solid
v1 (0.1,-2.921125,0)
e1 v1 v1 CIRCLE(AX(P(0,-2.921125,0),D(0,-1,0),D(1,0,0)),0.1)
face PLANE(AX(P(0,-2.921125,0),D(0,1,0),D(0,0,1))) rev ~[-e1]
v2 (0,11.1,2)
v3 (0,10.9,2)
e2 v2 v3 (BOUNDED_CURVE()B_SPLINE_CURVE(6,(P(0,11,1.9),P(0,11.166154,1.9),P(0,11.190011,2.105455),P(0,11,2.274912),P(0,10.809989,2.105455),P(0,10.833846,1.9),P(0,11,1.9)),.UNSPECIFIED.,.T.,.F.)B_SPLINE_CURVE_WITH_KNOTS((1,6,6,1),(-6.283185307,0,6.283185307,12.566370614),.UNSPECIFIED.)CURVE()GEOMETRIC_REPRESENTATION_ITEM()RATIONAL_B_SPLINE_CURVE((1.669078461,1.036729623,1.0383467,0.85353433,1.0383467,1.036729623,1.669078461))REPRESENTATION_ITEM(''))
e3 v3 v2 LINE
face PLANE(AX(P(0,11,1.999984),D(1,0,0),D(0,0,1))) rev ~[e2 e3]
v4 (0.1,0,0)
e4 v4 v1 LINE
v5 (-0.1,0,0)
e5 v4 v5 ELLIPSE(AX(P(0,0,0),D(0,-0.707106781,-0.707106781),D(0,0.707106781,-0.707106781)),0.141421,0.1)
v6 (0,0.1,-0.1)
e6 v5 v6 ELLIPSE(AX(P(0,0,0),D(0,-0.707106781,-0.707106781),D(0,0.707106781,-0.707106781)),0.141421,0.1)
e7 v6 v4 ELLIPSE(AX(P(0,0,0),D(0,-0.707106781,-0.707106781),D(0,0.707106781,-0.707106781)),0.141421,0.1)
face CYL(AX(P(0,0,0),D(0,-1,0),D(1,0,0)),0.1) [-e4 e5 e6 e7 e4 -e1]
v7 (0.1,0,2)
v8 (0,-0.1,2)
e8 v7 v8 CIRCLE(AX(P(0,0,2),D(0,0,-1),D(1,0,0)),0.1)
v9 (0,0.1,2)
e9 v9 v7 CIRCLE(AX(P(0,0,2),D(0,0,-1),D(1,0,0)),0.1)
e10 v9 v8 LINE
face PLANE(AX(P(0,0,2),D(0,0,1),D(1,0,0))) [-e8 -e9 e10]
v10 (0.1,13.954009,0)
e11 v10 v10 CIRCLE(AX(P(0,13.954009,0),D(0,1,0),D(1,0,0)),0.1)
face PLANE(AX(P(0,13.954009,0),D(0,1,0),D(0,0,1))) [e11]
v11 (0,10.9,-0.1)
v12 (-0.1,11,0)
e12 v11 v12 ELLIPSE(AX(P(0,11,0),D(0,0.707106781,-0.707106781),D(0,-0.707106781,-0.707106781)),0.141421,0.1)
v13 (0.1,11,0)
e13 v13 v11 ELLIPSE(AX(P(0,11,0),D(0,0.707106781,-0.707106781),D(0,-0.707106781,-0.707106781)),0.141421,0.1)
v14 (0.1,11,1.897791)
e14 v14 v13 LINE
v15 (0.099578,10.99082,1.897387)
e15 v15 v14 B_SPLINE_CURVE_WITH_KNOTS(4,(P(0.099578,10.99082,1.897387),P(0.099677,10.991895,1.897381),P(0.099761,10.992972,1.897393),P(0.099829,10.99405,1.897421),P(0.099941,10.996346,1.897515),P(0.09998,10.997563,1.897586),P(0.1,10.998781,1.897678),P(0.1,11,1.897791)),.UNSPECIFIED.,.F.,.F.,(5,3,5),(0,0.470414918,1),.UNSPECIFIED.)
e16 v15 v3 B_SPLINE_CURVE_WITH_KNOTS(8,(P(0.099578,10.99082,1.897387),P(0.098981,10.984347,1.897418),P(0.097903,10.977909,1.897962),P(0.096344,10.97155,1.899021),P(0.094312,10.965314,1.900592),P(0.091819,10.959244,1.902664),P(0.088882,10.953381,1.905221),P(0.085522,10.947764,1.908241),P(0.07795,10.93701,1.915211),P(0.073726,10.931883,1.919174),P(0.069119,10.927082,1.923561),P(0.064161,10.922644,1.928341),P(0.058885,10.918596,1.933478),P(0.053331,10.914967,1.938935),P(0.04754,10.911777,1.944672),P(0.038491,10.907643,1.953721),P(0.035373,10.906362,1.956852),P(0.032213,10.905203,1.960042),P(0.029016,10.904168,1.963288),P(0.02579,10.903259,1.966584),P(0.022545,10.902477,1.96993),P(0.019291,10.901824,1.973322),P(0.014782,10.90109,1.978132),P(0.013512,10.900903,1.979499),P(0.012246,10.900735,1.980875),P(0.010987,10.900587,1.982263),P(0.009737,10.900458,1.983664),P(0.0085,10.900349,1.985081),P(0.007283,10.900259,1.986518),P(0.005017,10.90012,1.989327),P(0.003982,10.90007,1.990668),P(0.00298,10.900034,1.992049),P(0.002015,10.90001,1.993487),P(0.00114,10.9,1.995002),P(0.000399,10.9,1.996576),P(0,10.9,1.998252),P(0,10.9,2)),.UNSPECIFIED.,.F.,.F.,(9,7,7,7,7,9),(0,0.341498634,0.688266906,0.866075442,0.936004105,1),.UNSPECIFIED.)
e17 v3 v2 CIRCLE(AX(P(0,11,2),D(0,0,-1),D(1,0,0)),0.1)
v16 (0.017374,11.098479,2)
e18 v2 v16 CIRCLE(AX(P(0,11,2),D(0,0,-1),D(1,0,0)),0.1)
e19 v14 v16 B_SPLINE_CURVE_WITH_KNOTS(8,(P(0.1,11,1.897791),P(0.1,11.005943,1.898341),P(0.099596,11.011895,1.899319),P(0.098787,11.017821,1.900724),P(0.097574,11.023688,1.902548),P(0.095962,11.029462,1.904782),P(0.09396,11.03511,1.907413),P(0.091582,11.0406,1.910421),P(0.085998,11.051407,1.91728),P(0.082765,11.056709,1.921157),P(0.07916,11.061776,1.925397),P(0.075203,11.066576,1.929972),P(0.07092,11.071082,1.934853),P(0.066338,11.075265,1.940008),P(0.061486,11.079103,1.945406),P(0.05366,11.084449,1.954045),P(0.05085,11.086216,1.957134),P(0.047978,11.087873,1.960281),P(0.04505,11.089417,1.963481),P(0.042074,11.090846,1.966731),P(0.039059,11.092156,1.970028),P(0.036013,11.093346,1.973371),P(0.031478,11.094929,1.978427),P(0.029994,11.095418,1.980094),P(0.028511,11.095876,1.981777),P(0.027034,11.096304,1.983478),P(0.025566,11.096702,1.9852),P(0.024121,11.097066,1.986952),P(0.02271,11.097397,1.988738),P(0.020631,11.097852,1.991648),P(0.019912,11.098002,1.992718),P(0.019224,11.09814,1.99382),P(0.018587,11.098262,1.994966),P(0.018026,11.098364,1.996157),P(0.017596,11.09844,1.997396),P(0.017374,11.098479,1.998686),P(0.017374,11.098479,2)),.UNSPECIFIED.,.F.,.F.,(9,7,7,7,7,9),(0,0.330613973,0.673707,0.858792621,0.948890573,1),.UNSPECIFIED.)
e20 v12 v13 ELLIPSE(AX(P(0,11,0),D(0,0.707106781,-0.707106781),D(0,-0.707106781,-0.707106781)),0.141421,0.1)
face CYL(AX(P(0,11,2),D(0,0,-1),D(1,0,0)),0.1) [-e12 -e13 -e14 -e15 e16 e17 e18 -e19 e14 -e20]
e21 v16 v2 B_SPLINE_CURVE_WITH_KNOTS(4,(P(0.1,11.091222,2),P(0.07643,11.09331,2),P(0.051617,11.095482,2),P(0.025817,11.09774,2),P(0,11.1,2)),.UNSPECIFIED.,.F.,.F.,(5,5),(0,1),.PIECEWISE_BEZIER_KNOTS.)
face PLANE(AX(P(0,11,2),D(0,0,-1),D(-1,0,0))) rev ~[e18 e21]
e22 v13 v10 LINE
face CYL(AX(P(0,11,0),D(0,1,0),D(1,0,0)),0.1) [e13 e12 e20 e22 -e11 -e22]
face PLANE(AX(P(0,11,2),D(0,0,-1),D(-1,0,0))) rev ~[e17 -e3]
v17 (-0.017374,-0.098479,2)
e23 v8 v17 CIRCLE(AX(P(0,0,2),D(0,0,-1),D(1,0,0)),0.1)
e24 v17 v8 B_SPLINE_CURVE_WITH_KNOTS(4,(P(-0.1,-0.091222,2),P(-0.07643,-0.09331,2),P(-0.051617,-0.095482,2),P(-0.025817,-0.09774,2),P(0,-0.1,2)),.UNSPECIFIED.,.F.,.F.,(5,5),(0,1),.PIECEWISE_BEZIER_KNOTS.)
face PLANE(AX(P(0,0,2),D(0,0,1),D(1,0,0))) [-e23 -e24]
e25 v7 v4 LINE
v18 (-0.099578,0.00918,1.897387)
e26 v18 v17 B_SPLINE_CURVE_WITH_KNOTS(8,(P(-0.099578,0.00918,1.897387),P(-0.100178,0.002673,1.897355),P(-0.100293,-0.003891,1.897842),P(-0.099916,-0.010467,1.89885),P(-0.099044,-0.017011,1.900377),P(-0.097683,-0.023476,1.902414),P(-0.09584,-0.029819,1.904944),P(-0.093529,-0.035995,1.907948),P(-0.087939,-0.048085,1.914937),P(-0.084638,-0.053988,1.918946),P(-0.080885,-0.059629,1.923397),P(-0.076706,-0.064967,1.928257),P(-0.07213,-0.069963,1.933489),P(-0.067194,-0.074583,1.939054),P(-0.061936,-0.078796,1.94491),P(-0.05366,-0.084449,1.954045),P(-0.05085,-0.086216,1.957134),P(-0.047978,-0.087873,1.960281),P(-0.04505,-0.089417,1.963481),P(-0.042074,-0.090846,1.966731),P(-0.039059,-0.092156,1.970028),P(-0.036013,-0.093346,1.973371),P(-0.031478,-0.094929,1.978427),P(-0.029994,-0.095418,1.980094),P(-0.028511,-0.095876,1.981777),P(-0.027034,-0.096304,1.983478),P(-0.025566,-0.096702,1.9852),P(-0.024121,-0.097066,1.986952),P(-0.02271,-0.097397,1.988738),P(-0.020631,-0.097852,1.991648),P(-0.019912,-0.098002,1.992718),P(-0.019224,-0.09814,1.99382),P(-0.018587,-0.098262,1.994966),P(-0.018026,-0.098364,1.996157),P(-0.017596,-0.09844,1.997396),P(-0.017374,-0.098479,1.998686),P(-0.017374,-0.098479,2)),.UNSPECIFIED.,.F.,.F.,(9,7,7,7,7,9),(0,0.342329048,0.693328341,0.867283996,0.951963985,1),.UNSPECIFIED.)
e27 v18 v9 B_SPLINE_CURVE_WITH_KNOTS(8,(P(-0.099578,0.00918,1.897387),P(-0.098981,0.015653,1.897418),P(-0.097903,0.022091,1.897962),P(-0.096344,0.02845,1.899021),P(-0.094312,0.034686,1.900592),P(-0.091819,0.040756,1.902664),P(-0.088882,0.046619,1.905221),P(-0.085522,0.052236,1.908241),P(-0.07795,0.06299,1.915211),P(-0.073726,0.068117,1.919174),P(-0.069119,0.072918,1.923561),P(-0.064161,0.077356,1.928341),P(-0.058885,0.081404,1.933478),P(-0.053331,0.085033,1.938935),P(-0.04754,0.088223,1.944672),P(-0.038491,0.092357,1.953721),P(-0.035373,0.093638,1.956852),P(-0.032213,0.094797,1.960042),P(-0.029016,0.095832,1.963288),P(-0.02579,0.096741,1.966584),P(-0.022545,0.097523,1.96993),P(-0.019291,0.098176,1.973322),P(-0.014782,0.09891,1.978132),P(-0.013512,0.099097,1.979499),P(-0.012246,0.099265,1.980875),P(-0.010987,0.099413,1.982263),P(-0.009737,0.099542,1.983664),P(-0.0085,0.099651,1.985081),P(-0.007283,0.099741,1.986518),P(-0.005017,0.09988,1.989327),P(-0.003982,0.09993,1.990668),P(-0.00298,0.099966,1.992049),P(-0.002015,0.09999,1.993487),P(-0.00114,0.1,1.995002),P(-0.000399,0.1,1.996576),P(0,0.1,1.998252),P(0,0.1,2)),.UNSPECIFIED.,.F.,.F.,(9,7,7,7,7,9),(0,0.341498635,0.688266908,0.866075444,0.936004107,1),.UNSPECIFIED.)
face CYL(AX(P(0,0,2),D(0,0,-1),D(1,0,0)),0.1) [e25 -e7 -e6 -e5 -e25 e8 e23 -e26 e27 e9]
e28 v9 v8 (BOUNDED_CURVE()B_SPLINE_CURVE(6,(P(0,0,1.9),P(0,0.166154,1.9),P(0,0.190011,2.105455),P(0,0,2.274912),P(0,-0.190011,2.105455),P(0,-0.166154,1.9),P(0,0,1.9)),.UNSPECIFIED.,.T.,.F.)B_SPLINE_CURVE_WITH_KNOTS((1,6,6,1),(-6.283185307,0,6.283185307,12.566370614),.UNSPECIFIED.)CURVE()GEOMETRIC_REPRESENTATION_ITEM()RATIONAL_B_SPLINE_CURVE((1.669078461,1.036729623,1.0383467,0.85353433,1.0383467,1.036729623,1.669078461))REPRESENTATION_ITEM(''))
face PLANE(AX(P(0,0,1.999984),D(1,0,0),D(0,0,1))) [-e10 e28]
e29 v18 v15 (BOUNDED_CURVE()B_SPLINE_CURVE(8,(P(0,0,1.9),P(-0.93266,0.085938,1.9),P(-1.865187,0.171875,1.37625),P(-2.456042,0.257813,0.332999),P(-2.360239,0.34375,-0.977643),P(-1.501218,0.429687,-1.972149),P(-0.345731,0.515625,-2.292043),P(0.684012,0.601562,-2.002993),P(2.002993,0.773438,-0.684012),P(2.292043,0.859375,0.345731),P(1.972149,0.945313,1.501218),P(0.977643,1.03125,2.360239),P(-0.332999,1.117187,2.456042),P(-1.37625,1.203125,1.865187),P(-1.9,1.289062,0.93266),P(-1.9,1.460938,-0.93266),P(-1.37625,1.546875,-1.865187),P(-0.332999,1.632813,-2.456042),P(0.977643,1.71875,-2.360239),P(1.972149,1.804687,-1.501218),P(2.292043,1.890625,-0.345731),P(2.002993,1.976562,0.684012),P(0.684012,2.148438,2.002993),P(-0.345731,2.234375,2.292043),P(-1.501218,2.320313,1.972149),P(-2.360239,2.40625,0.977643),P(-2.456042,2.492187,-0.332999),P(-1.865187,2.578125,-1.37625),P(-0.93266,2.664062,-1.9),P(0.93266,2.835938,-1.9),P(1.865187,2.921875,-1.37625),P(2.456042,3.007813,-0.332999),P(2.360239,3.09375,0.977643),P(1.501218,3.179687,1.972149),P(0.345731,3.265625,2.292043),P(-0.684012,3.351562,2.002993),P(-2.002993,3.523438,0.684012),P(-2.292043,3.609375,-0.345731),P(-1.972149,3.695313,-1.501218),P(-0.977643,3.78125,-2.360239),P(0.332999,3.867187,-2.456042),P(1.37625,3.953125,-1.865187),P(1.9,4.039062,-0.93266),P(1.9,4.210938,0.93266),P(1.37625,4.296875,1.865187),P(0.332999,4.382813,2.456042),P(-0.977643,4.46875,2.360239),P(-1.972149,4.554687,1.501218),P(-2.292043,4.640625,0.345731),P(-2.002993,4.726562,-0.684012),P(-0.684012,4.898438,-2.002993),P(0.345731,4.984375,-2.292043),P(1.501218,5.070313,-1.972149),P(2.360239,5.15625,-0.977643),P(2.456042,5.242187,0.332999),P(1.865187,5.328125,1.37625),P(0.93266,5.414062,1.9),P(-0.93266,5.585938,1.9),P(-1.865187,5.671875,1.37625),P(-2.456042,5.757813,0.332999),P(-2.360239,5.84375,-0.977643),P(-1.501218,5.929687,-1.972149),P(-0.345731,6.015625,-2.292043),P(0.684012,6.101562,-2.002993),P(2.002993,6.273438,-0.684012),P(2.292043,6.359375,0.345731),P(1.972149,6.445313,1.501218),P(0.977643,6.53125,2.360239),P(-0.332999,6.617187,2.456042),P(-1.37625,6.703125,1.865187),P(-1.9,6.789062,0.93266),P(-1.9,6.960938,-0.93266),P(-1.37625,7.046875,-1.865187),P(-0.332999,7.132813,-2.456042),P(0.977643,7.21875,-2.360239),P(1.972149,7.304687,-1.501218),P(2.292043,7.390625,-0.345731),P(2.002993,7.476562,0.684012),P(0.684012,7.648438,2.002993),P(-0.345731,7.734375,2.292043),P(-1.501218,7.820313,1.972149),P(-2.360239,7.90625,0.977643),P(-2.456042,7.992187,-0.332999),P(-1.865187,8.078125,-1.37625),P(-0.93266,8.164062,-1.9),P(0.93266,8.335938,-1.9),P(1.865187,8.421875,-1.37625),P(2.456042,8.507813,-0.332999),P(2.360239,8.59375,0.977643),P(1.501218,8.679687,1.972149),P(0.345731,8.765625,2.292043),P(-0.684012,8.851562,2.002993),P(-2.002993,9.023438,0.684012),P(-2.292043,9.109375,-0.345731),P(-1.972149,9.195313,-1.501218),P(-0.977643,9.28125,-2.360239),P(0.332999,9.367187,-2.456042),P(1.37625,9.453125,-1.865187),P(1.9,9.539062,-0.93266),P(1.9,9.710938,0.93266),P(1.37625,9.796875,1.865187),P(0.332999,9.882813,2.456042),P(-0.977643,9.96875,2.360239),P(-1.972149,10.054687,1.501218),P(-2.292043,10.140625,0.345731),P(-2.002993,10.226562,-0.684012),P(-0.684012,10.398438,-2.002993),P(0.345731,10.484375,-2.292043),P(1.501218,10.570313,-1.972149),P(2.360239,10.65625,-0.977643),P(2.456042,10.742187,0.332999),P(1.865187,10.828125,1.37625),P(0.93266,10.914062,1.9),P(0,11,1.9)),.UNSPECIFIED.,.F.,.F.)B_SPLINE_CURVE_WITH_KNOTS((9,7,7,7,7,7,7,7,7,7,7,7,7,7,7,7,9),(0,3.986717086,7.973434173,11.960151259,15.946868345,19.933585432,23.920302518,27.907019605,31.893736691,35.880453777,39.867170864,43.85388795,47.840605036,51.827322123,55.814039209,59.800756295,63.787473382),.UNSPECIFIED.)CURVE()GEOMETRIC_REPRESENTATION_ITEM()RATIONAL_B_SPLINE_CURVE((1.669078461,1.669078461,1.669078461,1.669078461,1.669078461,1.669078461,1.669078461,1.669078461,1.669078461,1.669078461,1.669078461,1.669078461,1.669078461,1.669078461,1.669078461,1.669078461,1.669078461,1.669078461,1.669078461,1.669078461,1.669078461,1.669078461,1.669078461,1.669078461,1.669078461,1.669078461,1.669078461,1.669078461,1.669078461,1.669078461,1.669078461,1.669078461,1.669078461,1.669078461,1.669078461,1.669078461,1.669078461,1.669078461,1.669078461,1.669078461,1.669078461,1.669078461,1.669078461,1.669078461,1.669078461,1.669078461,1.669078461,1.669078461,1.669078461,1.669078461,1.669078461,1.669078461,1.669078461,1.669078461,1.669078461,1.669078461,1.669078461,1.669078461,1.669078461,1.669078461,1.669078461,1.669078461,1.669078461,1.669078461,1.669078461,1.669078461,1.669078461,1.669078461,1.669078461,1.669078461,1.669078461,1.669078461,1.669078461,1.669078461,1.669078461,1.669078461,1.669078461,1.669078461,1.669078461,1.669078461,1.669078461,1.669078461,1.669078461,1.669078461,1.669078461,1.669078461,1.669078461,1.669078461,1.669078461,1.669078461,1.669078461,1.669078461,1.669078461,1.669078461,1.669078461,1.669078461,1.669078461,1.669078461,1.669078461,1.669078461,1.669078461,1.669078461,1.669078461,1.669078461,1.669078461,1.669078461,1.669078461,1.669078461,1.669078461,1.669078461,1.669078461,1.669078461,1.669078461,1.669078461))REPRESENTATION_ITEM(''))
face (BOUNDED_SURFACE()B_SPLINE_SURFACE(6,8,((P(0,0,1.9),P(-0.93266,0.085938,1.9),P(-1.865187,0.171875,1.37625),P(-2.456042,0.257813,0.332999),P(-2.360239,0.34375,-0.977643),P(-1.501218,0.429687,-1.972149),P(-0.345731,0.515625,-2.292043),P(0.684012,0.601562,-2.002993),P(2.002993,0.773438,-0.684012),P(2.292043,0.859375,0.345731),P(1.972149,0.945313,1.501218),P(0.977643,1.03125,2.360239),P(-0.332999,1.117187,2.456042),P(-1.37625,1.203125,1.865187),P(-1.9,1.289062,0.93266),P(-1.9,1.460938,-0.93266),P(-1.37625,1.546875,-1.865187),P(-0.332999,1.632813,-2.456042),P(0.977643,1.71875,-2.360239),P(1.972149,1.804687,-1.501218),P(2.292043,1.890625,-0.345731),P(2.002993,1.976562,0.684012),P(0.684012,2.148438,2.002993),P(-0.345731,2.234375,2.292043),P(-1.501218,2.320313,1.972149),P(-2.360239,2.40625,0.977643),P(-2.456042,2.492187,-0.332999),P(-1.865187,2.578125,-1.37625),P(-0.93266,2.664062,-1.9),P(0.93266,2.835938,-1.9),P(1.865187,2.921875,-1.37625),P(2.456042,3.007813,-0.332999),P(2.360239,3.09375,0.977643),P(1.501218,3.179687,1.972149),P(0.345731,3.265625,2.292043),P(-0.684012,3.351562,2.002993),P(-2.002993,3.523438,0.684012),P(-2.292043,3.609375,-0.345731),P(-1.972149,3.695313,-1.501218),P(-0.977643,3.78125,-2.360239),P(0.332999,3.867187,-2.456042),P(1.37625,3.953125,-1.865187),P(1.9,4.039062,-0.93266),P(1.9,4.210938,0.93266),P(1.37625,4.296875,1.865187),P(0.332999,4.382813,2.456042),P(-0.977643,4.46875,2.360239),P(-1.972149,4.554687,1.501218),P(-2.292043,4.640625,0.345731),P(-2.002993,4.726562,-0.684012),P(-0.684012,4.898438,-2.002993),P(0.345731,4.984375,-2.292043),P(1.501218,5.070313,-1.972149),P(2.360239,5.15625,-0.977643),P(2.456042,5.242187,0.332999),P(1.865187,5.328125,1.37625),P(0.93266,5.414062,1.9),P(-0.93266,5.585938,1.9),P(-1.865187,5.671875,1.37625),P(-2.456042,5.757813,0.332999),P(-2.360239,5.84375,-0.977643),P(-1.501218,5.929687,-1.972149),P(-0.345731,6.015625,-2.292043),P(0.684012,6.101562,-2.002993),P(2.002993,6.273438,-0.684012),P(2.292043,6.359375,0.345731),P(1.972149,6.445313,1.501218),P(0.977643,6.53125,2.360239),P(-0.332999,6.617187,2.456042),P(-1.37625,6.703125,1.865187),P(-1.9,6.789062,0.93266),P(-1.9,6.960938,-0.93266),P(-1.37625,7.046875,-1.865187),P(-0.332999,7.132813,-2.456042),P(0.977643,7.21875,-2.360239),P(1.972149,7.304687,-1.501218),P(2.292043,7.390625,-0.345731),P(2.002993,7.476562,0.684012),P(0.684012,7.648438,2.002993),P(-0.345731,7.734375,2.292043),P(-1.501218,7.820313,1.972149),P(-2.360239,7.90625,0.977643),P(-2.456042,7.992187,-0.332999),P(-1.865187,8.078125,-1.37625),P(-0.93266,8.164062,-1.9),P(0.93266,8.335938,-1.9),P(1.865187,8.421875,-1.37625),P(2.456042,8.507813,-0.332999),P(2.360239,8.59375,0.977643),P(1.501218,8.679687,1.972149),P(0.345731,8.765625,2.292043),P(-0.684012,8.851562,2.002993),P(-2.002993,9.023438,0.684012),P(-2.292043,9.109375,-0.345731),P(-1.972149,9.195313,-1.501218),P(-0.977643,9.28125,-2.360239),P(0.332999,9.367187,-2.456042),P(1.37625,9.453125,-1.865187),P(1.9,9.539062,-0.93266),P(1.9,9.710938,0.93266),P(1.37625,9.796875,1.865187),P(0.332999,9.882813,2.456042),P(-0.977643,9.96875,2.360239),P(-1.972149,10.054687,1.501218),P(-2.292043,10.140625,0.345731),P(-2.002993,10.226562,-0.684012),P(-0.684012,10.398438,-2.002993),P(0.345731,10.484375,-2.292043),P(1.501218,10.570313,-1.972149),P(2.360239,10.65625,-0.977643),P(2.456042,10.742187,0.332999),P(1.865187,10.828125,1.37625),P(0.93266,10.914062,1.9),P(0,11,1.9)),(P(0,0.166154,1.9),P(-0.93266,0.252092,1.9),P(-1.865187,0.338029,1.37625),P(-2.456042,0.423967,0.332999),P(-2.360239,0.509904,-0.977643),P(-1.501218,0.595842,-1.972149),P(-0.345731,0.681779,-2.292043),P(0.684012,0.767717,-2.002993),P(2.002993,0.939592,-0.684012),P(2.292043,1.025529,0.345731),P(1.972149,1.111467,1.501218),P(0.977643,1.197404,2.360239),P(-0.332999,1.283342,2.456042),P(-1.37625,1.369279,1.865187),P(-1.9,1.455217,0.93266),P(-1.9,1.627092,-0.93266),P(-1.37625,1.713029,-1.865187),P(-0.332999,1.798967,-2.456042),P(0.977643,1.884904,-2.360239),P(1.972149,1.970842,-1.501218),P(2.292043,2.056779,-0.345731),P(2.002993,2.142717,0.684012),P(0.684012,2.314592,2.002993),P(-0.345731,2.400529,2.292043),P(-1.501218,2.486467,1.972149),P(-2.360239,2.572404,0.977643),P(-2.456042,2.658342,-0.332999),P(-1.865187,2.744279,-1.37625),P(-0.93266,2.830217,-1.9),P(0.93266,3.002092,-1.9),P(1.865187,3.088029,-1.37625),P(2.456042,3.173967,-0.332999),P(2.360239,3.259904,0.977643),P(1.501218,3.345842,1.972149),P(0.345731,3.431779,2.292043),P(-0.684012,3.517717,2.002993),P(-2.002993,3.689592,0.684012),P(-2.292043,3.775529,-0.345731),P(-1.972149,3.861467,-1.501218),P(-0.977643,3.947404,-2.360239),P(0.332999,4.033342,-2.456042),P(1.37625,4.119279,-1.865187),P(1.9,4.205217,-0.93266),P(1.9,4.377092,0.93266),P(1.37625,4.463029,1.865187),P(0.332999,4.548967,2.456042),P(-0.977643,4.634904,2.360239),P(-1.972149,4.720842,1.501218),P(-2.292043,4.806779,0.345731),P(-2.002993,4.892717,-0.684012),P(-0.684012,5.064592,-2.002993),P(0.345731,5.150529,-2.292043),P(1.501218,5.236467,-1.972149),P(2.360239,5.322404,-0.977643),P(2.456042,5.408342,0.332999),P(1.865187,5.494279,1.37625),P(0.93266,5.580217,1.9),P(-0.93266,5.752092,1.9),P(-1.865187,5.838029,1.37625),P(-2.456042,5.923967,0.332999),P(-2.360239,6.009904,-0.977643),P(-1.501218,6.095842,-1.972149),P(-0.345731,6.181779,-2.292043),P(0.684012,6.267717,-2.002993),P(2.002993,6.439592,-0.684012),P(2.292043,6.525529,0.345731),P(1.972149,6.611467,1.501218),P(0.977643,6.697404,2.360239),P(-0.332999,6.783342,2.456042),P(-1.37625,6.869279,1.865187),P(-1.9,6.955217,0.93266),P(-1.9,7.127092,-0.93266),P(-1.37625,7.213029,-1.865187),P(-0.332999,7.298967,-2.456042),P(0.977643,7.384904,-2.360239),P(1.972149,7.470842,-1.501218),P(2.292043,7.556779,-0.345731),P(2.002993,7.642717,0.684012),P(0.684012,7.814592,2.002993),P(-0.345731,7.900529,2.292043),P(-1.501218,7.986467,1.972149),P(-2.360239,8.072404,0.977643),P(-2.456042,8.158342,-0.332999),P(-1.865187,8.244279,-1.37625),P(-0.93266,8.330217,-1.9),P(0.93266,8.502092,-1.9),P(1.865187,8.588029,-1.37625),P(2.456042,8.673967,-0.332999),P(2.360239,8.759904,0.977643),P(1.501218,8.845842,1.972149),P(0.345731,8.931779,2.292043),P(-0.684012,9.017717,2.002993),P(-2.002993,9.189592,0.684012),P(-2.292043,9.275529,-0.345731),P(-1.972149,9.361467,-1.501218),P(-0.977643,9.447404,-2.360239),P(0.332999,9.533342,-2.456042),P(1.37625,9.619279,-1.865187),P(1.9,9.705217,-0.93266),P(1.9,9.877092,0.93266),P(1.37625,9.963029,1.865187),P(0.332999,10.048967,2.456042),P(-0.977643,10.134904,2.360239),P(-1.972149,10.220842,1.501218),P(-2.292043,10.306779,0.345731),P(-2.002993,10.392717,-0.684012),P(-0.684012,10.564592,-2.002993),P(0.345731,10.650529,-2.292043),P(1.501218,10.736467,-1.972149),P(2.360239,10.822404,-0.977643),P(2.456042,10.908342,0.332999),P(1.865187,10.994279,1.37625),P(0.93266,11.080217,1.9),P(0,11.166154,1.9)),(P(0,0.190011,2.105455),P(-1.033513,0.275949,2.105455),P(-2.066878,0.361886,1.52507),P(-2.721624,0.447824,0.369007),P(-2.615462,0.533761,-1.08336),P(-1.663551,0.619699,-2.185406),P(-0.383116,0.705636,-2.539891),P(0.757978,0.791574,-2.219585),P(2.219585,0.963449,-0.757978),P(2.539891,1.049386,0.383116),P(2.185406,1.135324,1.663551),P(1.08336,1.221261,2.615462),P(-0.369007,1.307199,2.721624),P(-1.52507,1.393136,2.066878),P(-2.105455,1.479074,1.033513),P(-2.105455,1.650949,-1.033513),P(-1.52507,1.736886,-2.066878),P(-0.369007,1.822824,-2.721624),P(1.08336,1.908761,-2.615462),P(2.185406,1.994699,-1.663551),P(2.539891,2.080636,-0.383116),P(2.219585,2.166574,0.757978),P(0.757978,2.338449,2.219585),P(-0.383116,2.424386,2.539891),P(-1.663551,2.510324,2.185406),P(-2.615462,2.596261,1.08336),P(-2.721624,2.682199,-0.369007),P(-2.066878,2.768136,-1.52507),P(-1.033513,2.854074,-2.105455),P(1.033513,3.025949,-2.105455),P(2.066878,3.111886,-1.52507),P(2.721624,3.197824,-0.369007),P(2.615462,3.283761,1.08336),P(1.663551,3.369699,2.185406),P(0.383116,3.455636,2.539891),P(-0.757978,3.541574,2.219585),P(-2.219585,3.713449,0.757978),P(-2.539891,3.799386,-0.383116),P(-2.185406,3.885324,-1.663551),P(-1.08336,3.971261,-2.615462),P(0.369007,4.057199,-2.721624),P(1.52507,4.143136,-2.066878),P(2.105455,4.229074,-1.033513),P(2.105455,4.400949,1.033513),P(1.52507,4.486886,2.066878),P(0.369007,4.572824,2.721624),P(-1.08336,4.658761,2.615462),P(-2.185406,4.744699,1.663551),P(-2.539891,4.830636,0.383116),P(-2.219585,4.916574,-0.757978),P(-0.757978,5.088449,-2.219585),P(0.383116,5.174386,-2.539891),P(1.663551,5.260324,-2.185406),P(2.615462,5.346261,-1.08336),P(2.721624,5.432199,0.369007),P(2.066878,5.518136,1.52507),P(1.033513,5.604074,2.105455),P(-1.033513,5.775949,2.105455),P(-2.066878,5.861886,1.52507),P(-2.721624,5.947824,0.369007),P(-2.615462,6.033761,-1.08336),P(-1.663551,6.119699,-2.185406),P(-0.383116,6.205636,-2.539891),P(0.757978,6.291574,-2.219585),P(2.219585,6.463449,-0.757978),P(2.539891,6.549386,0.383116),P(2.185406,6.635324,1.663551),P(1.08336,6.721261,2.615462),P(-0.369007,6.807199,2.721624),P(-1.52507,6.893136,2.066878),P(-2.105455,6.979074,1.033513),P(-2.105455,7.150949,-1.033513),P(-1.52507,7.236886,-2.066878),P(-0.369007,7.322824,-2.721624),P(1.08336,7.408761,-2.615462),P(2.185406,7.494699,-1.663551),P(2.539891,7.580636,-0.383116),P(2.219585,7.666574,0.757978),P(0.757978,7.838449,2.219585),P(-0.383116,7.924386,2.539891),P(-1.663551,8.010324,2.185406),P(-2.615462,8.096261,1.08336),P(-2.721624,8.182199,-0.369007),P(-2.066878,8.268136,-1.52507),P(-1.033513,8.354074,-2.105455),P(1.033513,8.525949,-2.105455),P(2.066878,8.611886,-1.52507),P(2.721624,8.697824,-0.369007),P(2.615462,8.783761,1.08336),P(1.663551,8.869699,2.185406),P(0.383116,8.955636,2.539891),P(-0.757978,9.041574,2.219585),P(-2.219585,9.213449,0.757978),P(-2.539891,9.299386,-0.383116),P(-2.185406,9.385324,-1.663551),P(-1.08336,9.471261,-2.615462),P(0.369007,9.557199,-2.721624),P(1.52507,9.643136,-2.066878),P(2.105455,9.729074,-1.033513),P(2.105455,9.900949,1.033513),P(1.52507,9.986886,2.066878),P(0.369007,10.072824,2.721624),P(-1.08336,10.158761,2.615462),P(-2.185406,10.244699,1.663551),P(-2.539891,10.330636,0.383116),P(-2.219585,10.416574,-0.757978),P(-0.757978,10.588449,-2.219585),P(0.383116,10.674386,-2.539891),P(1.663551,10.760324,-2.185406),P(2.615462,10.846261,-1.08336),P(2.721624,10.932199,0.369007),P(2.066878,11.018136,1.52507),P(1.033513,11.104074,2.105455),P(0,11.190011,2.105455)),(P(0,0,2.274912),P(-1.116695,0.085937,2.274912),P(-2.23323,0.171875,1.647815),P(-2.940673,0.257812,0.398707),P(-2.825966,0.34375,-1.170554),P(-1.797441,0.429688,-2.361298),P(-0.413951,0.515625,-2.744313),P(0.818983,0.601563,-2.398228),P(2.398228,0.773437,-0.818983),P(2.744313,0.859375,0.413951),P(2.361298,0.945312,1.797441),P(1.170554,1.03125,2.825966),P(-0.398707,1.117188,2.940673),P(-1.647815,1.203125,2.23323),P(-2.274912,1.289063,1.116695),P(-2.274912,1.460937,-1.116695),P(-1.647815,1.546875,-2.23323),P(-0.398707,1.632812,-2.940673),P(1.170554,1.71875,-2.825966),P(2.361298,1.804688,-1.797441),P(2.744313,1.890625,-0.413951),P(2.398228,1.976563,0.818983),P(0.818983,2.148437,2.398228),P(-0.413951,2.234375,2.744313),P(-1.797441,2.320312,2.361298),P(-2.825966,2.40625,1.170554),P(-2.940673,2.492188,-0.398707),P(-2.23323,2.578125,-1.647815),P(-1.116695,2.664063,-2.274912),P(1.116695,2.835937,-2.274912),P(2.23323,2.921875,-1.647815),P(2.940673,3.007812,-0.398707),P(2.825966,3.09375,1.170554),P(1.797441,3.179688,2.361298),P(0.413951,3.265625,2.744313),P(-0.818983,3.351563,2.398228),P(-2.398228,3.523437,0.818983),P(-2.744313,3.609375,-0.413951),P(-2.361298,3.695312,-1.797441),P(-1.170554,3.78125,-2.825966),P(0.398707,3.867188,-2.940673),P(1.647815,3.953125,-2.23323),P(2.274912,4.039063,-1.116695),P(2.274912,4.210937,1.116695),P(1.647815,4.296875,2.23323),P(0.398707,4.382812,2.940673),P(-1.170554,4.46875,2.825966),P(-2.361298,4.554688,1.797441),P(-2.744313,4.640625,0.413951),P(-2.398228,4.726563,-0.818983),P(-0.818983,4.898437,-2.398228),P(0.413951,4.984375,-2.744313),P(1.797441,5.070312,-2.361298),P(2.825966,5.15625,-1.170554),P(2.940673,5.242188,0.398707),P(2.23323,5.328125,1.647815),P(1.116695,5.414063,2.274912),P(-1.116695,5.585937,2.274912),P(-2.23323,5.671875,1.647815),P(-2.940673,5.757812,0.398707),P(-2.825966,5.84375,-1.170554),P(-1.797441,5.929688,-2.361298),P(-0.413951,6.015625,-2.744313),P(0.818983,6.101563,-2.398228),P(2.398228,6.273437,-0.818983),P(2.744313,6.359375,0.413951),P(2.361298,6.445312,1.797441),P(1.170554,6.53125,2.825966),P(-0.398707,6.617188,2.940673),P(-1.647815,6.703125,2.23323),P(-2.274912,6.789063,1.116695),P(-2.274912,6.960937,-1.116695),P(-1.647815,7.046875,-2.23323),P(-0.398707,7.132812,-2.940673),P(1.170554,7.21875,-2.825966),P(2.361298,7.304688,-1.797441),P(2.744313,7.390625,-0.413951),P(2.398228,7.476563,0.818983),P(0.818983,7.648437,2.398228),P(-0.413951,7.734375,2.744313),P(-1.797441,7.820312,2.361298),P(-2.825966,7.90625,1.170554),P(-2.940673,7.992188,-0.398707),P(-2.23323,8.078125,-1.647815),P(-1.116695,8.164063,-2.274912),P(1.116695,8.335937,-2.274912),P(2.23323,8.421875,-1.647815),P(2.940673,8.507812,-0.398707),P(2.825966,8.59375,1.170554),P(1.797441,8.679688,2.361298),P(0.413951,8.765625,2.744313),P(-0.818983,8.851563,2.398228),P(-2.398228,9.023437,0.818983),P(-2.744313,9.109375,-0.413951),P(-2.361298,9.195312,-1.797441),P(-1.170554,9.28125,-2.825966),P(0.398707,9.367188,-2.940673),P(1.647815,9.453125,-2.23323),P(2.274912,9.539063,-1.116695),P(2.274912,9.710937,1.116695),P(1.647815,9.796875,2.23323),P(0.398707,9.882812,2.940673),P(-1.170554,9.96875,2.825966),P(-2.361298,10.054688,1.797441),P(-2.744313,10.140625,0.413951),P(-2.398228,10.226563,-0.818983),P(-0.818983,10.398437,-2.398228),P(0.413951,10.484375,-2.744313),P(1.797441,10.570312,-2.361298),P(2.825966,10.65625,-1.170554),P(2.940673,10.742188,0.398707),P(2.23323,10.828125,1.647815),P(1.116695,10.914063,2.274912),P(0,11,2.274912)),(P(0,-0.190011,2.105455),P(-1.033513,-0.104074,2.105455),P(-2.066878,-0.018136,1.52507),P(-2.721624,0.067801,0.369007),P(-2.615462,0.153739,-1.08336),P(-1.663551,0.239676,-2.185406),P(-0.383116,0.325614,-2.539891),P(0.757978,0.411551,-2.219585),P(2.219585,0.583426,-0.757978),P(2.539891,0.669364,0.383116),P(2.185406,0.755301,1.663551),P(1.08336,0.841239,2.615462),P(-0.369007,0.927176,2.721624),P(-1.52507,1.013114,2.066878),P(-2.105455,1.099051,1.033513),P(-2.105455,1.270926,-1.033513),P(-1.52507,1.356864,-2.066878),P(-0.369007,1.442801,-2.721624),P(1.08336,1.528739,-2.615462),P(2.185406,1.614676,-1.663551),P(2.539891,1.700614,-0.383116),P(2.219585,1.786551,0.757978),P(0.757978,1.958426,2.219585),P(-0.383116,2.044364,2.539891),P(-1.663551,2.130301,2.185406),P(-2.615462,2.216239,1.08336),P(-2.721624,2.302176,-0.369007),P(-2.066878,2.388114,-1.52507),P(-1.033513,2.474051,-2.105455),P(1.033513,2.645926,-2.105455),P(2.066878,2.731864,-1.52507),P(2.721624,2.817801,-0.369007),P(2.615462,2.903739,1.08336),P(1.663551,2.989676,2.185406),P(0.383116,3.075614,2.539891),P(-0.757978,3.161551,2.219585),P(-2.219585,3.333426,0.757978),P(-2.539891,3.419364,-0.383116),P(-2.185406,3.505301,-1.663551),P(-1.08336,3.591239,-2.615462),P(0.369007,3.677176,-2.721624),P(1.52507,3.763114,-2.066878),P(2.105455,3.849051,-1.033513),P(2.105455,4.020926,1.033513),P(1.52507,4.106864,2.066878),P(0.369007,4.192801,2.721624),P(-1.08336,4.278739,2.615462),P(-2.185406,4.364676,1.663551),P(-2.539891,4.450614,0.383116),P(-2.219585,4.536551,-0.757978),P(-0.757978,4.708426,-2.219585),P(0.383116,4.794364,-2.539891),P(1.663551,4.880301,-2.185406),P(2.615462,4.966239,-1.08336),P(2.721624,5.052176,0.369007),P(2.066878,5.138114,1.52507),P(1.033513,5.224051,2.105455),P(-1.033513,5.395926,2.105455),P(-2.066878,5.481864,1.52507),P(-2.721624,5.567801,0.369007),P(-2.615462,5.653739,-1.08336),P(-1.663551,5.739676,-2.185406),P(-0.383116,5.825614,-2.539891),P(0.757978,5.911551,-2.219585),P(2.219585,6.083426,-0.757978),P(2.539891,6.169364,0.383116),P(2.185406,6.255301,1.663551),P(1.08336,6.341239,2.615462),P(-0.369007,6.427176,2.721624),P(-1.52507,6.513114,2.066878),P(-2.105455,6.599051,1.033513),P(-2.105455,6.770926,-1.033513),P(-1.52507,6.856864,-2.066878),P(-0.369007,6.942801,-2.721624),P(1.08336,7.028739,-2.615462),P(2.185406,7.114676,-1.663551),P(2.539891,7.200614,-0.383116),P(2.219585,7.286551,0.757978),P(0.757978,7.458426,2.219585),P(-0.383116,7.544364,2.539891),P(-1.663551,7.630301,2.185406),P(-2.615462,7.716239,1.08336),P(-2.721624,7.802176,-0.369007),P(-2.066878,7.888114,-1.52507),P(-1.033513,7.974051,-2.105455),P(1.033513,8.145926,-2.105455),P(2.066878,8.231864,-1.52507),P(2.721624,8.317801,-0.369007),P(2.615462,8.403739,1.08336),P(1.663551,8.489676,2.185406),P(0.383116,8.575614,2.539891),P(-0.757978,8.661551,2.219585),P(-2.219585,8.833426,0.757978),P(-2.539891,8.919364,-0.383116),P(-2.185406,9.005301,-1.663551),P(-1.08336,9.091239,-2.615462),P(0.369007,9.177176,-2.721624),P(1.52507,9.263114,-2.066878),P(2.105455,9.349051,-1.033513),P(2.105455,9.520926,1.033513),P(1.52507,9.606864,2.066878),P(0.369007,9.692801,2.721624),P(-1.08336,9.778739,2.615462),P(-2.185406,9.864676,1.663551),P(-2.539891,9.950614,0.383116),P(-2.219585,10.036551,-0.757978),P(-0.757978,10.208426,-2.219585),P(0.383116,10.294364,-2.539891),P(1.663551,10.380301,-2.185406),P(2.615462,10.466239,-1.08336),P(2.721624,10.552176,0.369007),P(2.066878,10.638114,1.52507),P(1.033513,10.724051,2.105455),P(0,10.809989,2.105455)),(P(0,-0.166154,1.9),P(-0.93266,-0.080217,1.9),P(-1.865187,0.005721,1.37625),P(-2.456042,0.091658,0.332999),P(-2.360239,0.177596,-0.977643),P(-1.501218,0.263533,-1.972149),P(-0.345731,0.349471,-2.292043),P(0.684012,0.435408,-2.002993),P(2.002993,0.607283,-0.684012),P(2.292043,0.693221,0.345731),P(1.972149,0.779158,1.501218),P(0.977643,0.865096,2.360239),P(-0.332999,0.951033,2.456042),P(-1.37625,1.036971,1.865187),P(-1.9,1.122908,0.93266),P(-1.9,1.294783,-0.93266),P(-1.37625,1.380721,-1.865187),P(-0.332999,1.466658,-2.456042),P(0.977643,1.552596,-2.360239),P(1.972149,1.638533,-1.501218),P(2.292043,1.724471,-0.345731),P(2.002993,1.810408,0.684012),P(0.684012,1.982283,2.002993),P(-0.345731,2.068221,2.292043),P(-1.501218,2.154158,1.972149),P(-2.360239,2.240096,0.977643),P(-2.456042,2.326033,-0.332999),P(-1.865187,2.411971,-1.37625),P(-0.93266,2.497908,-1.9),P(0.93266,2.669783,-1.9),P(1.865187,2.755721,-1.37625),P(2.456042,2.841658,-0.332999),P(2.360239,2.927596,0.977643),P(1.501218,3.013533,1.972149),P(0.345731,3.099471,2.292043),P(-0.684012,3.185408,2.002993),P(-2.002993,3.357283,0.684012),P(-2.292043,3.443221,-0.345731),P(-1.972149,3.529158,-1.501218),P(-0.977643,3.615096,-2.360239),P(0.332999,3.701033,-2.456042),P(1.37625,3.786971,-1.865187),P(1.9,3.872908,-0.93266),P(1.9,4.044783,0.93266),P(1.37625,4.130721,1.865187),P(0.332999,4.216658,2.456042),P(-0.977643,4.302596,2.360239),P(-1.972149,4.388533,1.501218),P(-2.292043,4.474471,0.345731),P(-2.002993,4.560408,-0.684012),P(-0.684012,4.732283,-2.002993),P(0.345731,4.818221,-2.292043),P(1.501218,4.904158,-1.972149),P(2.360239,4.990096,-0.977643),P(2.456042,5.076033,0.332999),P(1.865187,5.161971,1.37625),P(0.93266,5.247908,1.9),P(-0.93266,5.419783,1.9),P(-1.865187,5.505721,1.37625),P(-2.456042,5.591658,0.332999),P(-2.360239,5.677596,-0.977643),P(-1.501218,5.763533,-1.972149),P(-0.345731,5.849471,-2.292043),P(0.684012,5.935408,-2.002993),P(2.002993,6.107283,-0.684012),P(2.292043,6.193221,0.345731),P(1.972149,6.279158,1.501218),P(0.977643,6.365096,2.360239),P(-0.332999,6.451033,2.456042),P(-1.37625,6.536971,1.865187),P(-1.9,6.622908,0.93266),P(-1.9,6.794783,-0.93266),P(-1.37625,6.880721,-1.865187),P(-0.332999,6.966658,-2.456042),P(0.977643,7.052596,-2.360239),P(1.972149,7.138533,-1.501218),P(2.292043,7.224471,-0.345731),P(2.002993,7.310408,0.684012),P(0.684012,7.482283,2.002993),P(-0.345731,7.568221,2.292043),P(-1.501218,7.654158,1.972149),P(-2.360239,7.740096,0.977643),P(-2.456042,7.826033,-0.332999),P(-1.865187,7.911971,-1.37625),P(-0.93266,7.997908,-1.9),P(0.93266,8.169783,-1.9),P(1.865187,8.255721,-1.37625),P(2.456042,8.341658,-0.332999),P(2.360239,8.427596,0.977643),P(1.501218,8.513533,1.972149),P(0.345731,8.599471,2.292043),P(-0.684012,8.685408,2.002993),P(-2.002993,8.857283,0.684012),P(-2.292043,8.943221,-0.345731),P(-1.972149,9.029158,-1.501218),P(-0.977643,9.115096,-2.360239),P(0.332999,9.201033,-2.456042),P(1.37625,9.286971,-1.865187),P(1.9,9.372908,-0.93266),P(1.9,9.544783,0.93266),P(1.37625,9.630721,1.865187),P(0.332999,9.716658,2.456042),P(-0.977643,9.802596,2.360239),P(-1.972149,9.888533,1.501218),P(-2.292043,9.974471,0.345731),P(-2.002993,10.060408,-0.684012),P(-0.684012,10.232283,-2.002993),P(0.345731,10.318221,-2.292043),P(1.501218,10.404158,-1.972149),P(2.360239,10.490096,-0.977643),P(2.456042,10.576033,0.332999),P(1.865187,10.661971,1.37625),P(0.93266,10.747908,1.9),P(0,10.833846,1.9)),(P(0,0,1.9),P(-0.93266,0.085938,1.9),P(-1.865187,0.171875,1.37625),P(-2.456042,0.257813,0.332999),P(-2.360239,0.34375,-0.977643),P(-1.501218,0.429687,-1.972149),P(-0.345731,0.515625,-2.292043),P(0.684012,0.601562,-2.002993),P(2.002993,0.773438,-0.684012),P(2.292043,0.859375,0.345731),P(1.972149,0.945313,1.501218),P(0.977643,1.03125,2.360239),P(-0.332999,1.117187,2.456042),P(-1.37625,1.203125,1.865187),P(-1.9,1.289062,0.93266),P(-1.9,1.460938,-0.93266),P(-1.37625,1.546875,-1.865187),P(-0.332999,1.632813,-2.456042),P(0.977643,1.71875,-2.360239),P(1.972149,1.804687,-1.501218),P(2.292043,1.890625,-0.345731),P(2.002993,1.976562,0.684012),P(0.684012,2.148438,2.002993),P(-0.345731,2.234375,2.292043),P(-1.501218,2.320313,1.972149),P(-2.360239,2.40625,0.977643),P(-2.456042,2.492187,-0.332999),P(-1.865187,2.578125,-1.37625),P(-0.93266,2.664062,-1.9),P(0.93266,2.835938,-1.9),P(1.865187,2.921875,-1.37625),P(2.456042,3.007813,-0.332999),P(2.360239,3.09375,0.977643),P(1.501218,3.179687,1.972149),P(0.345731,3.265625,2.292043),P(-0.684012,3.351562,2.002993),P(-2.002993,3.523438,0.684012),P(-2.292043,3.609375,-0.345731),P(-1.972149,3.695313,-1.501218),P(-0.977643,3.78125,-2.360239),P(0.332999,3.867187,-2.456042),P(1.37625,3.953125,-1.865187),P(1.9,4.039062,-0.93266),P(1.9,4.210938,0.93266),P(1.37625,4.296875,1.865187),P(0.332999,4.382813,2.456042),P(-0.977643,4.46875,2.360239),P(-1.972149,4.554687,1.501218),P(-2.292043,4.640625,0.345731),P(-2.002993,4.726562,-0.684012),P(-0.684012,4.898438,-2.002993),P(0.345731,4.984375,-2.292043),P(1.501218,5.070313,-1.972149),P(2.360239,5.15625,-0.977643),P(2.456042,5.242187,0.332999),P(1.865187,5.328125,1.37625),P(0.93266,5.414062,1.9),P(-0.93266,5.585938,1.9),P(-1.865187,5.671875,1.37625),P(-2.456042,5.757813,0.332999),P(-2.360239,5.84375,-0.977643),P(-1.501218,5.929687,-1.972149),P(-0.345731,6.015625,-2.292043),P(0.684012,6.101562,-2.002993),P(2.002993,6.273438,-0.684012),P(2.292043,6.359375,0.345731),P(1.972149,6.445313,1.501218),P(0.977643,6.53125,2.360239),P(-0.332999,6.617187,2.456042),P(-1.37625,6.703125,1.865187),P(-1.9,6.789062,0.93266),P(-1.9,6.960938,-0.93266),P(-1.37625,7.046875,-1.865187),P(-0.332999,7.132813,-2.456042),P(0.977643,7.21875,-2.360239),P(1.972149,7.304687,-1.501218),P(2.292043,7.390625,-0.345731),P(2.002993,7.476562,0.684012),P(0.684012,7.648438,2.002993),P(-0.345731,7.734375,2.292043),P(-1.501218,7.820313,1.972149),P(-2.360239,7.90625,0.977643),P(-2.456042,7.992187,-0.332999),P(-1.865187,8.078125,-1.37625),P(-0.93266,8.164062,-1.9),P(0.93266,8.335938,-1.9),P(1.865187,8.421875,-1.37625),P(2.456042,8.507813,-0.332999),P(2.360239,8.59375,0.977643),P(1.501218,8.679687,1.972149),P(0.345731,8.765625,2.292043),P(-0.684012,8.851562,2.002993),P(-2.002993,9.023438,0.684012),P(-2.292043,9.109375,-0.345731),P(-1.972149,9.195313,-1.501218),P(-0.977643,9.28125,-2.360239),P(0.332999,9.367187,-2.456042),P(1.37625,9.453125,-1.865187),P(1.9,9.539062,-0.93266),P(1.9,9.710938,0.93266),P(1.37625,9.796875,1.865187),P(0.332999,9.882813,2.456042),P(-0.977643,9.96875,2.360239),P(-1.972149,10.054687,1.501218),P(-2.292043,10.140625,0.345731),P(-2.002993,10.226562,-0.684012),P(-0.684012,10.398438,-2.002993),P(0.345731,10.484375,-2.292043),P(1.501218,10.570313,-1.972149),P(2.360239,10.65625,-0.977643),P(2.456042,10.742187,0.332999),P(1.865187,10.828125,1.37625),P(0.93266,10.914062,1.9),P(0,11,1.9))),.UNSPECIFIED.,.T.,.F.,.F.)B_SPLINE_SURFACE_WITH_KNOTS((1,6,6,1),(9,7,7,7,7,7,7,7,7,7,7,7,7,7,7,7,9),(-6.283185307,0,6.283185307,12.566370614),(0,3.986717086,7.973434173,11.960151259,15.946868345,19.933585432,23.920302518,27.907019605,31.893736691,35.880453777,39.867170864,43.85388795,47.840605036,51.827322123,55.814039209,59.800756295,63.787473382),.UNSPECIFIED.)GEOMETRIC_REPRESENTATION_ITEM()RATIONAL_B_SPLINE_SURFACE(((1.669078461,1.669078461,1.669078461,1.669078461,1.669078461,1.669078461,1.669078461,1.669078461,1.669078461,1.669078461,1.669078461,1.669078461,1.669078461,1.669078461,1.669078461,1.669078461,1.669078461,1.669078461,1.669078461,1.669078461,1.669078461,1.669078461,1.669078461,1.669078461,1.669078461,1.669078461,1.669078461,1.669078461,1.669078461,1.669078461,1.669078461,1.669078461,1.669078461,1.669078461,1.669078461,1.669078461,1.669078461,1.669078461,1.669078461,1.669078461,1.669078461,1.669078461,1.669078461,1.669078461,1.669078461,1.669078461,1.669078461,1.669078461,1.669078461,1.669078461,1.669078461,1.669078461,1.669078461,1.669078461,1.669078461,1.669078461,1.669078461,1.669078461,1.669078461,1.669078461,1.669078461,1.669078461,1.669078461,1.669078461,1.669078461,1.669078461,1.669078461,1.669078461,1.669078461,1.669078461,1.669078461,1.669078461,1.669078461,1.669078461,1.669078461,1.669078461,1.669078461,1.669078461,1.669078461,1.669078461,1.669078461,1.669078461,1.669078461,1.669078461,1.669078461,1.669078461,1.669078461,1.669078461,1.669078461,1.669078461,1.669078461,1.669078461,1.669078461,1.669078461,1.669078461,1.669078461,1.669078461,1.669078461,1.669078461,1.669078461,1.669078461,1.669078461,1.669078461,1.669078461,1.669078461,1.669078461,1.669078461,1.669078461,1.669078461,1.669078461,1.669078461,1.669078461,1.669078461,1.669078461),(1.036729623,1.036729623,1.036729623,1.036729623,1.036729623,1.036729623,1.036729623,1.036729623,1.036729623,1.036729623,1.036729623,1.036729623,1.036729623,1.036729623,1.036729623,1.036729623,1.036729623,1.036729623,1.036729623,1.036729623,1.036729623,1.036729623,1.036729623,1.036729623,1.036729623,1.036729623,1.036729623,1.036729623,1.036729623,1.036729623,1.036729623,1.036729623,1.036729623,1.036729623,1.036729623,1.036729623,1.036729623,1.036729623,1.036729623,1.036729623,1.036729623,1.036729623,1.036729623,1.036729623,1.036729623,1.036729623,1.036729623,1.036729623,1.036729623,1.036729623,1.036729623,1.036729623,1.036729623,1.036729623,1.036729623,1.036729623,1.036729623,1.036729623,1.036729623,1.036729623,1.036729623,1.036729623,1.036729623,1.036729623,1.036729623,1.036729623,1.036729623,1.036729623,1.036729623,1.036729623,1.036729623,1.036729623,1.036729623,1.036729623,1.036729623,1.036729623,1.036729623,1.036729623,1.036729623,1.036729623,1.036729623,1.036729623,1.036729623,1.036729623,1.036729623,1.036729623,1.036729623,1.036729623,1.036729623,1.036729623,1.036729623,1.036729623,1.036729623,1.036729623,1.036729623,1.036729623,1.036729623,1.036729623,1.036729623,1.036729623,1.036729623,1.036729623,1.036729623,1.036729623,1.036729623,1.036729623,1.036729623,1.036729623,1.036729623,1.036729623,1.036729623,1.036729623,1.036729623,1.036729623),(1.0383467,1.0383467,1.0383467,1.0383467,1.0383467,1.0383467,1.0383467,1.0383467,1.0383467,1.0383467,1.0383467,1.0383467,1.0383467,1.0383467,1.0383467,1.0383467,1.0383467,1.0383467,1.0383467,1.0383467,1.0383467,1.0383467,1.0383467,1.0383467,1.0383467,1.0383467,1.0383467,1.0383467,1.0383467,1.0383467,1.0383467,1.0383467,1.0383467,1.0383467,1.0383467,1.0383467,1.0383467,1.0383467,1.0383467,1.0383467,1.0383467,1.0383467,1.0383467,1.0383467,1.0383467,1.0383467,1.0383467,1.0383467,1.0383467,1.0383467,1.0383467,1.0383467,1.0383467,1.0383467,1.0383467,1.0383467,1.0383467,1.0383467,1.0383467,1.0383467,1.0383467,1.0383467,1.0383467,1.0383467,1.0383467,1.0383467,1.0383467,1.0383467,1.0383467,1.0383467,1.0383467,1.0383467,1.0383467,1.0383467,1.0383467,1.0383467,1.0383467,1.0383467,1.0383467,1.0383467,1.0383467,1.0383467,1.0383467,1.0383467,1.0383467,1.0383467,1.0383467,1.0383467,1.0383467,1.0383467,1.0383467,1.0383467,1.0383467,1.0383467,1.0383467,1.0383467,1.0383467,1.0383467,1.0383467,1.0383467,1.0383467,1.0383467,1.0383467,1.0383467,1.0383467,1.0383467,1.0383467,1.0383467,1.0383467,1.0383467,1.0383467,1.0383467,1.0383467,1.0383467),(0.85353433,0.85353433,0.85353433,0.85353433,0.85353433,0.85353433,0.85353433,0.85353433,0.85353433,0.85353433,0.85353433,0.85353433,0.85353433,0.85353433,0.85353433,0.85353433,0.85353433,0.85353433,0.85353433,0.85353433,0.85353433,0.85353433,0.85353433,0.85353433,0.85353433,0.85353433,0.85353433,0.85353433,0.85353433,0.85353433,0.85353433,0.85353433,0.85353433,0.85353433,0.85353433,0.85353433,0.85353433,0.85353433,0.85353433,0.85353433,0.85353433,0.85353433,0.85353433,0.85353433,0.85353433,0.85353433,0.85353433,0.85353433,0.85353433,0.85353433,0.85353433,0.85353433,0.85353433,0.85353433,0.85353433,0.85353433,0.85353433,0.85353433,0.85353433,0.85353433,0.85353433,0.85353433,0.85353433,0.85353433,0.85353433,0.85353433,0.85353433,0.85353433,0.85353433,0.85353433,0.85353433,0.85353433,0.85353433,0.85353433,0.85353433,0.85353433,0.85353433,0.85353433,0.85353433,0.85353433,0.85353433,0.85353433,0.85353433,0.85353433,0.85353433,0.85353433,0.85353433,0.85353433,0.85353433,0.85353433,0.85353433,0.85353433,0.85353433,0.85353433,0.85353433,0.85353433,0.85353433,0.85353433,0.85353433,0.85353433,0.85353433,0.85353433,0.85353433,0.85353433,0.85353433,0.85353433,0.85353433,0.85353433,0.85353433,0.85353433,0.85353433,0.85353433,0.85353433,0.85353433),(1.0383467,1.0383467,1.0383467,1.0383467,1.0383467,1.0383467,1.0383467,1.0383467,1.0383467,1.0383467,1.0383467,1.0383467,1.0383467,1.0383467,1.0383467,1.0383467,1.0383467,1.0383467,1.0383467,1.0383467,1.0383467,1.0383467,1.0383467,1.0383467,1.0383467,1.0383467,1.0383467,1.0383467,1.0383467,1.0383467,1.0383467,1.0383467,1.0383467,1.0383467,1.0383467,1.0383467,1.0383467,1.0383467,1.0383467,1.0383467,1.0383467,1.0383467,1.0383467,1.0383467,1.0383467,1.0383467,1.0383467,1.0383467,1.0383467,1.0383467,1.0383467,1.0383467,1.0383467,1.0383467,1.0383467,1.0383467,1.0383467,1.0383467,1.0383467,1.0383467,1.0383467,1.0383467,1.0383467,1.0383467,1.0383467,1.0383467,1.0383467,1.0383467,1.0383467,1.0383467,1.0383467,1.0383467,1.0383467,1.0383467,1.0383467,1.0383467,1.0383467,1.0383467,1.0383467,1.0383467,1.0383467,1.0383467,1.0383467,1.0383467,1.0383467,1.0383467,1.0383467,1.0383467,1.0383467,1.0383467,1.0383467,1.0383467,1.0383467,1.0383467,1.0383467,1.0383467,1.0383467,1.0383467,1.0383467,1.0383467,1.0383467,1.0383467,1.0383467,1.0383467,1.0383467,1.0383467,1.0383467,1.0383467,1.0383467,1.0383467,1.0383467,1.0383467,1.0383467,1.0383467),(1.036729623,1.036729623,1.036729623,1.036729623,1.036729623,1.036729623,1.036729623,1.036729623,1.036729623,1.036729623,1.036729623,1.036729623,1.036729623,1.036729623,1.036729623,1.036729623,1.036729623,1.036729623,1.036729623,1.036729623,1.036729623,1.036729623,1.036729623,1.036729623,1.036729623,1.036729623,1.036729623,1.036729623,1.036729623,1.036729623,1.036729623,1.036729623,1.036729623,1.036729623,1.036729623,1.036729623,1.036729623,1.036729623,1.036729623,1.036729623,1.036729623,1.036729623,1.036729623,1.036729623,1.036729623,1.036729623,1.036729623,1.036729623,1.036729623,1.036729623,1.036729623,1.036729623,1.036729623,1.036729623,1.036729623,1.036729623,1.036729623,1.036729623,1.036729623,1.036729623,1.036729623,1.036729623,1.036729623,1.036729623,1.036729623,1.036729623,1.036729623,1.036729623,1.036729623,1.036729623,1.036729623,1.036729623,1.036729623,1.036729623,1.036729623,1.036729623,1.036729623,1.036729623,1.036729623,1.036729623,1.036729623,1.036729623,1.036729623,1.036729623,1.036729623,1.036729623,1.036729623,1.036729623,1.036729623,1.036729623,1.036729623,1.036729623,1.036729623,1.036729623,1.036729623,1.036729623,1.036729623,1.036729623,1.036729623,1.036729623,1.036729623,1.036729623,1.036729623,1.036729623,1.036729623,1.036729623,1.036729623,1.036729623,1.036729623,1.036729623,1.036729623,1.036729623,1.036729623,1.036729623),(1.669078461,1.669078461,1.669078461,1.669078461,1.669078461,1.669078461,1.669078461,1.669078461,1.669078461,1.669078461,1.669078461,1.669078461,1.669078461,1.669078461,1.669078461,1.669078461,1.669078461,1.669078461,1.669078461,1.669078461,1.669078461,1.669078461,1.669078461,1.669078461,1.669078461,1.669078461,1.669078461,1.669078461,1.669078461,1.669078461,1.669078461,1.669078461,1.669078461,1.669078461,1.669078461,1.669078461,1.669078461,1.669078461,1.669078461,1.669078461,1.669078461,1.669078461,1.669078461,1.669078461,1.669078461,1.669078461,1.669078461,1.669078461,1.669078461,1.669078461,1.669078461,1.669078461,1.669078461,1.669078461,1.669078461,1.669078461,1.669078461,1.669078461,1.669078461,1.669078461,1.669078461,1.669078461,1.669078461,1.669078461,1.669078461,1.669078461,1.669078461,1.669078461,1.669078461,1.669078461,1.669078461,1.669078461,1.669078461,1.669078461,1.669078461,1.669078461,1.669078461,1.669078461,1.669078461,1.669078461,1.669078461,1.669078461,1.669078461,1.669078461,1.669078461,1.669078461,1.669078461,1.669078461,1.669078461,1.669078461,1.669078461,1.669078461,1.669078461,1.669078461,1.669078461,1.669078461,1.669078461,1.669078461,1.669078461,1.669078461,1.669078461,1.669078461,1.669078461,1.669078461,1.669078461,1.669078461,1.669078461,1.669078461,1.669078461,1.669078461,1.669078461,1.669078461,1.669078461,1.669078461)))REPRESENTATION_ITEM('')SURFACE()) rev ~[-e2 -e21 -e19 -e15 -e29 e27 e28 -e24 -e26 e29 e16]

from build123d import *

# Parameters (mm, degrees)
SWEEP1_PITCH  = 1.1
SWEEP1_HEIGHT = 11
SWEEP1_RADIUS = 2
SKETCH2_R     = 0.1
SKETCH5_R     = 0.1
SKETCH7_R     = 0.1


with BuildPart() as part:
    # Sweep1: sweep along a helix
    with BuildLine() as sweep1_path:
        Helix(SWEEP1_PITCH, SWEEP1_HEIGHT, SWEEP1_RADIUS, center=(0, 0, 0), direction=(0, 1, 0), lefthand=True)
    # Sketch2 → Sweep1 (sweep)
    with BuildSketch(Plane(origin=(0, 0, 0), x_dir=(0, 0, -1), z_dir=(1, 0, 0))):
        with Locations((-2, 0)):
            Circle(SKETCH2_R)
    sweep(path=sweep1_path.line, is_frenet=True)

    # Sweep2: sweep along a path in Sketch4
    with BuildLine(Plane(origin=(0, 0, 0), x_dir=(0, 0, -1), z_dir=(1, 0, 0))) as sweep2_path:
        Line((-2, 0), (0, 0))
        Line((0, 0), (0, -2.921124617))
    # Sketch5 → Sweep2 (sweep)
    with BuildSketch(Plane(origin=(0, -2.921124617, 0), x_dir=(1, 0, 0), z_dir=(0, 1, 0))):
        Circle(SKETCH5_R)
    sweep(path=sweep2_path.line, transition=Transition.RIGHT)

    # Sweep3: sweep along a path in Sketch6
    with BuildLine(Plane(origin=(0, 0, 0), x_dir=(0, 0, -1), z_dir=(1, 0, 0))) as sweep3_path:
        Line((-2, 11), (0, 11))
        Line((0, 11), (0, 13.954009385))
    # Sketch7 → Sweep3 (sweep)
    with BuildSketch(Plane(origin=(0, 13.954009385, 0), x_dir=(1, 0, 0), z_dir=(0, 1, 0))):
        Circle(SKETCH7_R)
    sweep(path=sweep3_path.line, transition=Transition.RIGHT)


solid = part.part
